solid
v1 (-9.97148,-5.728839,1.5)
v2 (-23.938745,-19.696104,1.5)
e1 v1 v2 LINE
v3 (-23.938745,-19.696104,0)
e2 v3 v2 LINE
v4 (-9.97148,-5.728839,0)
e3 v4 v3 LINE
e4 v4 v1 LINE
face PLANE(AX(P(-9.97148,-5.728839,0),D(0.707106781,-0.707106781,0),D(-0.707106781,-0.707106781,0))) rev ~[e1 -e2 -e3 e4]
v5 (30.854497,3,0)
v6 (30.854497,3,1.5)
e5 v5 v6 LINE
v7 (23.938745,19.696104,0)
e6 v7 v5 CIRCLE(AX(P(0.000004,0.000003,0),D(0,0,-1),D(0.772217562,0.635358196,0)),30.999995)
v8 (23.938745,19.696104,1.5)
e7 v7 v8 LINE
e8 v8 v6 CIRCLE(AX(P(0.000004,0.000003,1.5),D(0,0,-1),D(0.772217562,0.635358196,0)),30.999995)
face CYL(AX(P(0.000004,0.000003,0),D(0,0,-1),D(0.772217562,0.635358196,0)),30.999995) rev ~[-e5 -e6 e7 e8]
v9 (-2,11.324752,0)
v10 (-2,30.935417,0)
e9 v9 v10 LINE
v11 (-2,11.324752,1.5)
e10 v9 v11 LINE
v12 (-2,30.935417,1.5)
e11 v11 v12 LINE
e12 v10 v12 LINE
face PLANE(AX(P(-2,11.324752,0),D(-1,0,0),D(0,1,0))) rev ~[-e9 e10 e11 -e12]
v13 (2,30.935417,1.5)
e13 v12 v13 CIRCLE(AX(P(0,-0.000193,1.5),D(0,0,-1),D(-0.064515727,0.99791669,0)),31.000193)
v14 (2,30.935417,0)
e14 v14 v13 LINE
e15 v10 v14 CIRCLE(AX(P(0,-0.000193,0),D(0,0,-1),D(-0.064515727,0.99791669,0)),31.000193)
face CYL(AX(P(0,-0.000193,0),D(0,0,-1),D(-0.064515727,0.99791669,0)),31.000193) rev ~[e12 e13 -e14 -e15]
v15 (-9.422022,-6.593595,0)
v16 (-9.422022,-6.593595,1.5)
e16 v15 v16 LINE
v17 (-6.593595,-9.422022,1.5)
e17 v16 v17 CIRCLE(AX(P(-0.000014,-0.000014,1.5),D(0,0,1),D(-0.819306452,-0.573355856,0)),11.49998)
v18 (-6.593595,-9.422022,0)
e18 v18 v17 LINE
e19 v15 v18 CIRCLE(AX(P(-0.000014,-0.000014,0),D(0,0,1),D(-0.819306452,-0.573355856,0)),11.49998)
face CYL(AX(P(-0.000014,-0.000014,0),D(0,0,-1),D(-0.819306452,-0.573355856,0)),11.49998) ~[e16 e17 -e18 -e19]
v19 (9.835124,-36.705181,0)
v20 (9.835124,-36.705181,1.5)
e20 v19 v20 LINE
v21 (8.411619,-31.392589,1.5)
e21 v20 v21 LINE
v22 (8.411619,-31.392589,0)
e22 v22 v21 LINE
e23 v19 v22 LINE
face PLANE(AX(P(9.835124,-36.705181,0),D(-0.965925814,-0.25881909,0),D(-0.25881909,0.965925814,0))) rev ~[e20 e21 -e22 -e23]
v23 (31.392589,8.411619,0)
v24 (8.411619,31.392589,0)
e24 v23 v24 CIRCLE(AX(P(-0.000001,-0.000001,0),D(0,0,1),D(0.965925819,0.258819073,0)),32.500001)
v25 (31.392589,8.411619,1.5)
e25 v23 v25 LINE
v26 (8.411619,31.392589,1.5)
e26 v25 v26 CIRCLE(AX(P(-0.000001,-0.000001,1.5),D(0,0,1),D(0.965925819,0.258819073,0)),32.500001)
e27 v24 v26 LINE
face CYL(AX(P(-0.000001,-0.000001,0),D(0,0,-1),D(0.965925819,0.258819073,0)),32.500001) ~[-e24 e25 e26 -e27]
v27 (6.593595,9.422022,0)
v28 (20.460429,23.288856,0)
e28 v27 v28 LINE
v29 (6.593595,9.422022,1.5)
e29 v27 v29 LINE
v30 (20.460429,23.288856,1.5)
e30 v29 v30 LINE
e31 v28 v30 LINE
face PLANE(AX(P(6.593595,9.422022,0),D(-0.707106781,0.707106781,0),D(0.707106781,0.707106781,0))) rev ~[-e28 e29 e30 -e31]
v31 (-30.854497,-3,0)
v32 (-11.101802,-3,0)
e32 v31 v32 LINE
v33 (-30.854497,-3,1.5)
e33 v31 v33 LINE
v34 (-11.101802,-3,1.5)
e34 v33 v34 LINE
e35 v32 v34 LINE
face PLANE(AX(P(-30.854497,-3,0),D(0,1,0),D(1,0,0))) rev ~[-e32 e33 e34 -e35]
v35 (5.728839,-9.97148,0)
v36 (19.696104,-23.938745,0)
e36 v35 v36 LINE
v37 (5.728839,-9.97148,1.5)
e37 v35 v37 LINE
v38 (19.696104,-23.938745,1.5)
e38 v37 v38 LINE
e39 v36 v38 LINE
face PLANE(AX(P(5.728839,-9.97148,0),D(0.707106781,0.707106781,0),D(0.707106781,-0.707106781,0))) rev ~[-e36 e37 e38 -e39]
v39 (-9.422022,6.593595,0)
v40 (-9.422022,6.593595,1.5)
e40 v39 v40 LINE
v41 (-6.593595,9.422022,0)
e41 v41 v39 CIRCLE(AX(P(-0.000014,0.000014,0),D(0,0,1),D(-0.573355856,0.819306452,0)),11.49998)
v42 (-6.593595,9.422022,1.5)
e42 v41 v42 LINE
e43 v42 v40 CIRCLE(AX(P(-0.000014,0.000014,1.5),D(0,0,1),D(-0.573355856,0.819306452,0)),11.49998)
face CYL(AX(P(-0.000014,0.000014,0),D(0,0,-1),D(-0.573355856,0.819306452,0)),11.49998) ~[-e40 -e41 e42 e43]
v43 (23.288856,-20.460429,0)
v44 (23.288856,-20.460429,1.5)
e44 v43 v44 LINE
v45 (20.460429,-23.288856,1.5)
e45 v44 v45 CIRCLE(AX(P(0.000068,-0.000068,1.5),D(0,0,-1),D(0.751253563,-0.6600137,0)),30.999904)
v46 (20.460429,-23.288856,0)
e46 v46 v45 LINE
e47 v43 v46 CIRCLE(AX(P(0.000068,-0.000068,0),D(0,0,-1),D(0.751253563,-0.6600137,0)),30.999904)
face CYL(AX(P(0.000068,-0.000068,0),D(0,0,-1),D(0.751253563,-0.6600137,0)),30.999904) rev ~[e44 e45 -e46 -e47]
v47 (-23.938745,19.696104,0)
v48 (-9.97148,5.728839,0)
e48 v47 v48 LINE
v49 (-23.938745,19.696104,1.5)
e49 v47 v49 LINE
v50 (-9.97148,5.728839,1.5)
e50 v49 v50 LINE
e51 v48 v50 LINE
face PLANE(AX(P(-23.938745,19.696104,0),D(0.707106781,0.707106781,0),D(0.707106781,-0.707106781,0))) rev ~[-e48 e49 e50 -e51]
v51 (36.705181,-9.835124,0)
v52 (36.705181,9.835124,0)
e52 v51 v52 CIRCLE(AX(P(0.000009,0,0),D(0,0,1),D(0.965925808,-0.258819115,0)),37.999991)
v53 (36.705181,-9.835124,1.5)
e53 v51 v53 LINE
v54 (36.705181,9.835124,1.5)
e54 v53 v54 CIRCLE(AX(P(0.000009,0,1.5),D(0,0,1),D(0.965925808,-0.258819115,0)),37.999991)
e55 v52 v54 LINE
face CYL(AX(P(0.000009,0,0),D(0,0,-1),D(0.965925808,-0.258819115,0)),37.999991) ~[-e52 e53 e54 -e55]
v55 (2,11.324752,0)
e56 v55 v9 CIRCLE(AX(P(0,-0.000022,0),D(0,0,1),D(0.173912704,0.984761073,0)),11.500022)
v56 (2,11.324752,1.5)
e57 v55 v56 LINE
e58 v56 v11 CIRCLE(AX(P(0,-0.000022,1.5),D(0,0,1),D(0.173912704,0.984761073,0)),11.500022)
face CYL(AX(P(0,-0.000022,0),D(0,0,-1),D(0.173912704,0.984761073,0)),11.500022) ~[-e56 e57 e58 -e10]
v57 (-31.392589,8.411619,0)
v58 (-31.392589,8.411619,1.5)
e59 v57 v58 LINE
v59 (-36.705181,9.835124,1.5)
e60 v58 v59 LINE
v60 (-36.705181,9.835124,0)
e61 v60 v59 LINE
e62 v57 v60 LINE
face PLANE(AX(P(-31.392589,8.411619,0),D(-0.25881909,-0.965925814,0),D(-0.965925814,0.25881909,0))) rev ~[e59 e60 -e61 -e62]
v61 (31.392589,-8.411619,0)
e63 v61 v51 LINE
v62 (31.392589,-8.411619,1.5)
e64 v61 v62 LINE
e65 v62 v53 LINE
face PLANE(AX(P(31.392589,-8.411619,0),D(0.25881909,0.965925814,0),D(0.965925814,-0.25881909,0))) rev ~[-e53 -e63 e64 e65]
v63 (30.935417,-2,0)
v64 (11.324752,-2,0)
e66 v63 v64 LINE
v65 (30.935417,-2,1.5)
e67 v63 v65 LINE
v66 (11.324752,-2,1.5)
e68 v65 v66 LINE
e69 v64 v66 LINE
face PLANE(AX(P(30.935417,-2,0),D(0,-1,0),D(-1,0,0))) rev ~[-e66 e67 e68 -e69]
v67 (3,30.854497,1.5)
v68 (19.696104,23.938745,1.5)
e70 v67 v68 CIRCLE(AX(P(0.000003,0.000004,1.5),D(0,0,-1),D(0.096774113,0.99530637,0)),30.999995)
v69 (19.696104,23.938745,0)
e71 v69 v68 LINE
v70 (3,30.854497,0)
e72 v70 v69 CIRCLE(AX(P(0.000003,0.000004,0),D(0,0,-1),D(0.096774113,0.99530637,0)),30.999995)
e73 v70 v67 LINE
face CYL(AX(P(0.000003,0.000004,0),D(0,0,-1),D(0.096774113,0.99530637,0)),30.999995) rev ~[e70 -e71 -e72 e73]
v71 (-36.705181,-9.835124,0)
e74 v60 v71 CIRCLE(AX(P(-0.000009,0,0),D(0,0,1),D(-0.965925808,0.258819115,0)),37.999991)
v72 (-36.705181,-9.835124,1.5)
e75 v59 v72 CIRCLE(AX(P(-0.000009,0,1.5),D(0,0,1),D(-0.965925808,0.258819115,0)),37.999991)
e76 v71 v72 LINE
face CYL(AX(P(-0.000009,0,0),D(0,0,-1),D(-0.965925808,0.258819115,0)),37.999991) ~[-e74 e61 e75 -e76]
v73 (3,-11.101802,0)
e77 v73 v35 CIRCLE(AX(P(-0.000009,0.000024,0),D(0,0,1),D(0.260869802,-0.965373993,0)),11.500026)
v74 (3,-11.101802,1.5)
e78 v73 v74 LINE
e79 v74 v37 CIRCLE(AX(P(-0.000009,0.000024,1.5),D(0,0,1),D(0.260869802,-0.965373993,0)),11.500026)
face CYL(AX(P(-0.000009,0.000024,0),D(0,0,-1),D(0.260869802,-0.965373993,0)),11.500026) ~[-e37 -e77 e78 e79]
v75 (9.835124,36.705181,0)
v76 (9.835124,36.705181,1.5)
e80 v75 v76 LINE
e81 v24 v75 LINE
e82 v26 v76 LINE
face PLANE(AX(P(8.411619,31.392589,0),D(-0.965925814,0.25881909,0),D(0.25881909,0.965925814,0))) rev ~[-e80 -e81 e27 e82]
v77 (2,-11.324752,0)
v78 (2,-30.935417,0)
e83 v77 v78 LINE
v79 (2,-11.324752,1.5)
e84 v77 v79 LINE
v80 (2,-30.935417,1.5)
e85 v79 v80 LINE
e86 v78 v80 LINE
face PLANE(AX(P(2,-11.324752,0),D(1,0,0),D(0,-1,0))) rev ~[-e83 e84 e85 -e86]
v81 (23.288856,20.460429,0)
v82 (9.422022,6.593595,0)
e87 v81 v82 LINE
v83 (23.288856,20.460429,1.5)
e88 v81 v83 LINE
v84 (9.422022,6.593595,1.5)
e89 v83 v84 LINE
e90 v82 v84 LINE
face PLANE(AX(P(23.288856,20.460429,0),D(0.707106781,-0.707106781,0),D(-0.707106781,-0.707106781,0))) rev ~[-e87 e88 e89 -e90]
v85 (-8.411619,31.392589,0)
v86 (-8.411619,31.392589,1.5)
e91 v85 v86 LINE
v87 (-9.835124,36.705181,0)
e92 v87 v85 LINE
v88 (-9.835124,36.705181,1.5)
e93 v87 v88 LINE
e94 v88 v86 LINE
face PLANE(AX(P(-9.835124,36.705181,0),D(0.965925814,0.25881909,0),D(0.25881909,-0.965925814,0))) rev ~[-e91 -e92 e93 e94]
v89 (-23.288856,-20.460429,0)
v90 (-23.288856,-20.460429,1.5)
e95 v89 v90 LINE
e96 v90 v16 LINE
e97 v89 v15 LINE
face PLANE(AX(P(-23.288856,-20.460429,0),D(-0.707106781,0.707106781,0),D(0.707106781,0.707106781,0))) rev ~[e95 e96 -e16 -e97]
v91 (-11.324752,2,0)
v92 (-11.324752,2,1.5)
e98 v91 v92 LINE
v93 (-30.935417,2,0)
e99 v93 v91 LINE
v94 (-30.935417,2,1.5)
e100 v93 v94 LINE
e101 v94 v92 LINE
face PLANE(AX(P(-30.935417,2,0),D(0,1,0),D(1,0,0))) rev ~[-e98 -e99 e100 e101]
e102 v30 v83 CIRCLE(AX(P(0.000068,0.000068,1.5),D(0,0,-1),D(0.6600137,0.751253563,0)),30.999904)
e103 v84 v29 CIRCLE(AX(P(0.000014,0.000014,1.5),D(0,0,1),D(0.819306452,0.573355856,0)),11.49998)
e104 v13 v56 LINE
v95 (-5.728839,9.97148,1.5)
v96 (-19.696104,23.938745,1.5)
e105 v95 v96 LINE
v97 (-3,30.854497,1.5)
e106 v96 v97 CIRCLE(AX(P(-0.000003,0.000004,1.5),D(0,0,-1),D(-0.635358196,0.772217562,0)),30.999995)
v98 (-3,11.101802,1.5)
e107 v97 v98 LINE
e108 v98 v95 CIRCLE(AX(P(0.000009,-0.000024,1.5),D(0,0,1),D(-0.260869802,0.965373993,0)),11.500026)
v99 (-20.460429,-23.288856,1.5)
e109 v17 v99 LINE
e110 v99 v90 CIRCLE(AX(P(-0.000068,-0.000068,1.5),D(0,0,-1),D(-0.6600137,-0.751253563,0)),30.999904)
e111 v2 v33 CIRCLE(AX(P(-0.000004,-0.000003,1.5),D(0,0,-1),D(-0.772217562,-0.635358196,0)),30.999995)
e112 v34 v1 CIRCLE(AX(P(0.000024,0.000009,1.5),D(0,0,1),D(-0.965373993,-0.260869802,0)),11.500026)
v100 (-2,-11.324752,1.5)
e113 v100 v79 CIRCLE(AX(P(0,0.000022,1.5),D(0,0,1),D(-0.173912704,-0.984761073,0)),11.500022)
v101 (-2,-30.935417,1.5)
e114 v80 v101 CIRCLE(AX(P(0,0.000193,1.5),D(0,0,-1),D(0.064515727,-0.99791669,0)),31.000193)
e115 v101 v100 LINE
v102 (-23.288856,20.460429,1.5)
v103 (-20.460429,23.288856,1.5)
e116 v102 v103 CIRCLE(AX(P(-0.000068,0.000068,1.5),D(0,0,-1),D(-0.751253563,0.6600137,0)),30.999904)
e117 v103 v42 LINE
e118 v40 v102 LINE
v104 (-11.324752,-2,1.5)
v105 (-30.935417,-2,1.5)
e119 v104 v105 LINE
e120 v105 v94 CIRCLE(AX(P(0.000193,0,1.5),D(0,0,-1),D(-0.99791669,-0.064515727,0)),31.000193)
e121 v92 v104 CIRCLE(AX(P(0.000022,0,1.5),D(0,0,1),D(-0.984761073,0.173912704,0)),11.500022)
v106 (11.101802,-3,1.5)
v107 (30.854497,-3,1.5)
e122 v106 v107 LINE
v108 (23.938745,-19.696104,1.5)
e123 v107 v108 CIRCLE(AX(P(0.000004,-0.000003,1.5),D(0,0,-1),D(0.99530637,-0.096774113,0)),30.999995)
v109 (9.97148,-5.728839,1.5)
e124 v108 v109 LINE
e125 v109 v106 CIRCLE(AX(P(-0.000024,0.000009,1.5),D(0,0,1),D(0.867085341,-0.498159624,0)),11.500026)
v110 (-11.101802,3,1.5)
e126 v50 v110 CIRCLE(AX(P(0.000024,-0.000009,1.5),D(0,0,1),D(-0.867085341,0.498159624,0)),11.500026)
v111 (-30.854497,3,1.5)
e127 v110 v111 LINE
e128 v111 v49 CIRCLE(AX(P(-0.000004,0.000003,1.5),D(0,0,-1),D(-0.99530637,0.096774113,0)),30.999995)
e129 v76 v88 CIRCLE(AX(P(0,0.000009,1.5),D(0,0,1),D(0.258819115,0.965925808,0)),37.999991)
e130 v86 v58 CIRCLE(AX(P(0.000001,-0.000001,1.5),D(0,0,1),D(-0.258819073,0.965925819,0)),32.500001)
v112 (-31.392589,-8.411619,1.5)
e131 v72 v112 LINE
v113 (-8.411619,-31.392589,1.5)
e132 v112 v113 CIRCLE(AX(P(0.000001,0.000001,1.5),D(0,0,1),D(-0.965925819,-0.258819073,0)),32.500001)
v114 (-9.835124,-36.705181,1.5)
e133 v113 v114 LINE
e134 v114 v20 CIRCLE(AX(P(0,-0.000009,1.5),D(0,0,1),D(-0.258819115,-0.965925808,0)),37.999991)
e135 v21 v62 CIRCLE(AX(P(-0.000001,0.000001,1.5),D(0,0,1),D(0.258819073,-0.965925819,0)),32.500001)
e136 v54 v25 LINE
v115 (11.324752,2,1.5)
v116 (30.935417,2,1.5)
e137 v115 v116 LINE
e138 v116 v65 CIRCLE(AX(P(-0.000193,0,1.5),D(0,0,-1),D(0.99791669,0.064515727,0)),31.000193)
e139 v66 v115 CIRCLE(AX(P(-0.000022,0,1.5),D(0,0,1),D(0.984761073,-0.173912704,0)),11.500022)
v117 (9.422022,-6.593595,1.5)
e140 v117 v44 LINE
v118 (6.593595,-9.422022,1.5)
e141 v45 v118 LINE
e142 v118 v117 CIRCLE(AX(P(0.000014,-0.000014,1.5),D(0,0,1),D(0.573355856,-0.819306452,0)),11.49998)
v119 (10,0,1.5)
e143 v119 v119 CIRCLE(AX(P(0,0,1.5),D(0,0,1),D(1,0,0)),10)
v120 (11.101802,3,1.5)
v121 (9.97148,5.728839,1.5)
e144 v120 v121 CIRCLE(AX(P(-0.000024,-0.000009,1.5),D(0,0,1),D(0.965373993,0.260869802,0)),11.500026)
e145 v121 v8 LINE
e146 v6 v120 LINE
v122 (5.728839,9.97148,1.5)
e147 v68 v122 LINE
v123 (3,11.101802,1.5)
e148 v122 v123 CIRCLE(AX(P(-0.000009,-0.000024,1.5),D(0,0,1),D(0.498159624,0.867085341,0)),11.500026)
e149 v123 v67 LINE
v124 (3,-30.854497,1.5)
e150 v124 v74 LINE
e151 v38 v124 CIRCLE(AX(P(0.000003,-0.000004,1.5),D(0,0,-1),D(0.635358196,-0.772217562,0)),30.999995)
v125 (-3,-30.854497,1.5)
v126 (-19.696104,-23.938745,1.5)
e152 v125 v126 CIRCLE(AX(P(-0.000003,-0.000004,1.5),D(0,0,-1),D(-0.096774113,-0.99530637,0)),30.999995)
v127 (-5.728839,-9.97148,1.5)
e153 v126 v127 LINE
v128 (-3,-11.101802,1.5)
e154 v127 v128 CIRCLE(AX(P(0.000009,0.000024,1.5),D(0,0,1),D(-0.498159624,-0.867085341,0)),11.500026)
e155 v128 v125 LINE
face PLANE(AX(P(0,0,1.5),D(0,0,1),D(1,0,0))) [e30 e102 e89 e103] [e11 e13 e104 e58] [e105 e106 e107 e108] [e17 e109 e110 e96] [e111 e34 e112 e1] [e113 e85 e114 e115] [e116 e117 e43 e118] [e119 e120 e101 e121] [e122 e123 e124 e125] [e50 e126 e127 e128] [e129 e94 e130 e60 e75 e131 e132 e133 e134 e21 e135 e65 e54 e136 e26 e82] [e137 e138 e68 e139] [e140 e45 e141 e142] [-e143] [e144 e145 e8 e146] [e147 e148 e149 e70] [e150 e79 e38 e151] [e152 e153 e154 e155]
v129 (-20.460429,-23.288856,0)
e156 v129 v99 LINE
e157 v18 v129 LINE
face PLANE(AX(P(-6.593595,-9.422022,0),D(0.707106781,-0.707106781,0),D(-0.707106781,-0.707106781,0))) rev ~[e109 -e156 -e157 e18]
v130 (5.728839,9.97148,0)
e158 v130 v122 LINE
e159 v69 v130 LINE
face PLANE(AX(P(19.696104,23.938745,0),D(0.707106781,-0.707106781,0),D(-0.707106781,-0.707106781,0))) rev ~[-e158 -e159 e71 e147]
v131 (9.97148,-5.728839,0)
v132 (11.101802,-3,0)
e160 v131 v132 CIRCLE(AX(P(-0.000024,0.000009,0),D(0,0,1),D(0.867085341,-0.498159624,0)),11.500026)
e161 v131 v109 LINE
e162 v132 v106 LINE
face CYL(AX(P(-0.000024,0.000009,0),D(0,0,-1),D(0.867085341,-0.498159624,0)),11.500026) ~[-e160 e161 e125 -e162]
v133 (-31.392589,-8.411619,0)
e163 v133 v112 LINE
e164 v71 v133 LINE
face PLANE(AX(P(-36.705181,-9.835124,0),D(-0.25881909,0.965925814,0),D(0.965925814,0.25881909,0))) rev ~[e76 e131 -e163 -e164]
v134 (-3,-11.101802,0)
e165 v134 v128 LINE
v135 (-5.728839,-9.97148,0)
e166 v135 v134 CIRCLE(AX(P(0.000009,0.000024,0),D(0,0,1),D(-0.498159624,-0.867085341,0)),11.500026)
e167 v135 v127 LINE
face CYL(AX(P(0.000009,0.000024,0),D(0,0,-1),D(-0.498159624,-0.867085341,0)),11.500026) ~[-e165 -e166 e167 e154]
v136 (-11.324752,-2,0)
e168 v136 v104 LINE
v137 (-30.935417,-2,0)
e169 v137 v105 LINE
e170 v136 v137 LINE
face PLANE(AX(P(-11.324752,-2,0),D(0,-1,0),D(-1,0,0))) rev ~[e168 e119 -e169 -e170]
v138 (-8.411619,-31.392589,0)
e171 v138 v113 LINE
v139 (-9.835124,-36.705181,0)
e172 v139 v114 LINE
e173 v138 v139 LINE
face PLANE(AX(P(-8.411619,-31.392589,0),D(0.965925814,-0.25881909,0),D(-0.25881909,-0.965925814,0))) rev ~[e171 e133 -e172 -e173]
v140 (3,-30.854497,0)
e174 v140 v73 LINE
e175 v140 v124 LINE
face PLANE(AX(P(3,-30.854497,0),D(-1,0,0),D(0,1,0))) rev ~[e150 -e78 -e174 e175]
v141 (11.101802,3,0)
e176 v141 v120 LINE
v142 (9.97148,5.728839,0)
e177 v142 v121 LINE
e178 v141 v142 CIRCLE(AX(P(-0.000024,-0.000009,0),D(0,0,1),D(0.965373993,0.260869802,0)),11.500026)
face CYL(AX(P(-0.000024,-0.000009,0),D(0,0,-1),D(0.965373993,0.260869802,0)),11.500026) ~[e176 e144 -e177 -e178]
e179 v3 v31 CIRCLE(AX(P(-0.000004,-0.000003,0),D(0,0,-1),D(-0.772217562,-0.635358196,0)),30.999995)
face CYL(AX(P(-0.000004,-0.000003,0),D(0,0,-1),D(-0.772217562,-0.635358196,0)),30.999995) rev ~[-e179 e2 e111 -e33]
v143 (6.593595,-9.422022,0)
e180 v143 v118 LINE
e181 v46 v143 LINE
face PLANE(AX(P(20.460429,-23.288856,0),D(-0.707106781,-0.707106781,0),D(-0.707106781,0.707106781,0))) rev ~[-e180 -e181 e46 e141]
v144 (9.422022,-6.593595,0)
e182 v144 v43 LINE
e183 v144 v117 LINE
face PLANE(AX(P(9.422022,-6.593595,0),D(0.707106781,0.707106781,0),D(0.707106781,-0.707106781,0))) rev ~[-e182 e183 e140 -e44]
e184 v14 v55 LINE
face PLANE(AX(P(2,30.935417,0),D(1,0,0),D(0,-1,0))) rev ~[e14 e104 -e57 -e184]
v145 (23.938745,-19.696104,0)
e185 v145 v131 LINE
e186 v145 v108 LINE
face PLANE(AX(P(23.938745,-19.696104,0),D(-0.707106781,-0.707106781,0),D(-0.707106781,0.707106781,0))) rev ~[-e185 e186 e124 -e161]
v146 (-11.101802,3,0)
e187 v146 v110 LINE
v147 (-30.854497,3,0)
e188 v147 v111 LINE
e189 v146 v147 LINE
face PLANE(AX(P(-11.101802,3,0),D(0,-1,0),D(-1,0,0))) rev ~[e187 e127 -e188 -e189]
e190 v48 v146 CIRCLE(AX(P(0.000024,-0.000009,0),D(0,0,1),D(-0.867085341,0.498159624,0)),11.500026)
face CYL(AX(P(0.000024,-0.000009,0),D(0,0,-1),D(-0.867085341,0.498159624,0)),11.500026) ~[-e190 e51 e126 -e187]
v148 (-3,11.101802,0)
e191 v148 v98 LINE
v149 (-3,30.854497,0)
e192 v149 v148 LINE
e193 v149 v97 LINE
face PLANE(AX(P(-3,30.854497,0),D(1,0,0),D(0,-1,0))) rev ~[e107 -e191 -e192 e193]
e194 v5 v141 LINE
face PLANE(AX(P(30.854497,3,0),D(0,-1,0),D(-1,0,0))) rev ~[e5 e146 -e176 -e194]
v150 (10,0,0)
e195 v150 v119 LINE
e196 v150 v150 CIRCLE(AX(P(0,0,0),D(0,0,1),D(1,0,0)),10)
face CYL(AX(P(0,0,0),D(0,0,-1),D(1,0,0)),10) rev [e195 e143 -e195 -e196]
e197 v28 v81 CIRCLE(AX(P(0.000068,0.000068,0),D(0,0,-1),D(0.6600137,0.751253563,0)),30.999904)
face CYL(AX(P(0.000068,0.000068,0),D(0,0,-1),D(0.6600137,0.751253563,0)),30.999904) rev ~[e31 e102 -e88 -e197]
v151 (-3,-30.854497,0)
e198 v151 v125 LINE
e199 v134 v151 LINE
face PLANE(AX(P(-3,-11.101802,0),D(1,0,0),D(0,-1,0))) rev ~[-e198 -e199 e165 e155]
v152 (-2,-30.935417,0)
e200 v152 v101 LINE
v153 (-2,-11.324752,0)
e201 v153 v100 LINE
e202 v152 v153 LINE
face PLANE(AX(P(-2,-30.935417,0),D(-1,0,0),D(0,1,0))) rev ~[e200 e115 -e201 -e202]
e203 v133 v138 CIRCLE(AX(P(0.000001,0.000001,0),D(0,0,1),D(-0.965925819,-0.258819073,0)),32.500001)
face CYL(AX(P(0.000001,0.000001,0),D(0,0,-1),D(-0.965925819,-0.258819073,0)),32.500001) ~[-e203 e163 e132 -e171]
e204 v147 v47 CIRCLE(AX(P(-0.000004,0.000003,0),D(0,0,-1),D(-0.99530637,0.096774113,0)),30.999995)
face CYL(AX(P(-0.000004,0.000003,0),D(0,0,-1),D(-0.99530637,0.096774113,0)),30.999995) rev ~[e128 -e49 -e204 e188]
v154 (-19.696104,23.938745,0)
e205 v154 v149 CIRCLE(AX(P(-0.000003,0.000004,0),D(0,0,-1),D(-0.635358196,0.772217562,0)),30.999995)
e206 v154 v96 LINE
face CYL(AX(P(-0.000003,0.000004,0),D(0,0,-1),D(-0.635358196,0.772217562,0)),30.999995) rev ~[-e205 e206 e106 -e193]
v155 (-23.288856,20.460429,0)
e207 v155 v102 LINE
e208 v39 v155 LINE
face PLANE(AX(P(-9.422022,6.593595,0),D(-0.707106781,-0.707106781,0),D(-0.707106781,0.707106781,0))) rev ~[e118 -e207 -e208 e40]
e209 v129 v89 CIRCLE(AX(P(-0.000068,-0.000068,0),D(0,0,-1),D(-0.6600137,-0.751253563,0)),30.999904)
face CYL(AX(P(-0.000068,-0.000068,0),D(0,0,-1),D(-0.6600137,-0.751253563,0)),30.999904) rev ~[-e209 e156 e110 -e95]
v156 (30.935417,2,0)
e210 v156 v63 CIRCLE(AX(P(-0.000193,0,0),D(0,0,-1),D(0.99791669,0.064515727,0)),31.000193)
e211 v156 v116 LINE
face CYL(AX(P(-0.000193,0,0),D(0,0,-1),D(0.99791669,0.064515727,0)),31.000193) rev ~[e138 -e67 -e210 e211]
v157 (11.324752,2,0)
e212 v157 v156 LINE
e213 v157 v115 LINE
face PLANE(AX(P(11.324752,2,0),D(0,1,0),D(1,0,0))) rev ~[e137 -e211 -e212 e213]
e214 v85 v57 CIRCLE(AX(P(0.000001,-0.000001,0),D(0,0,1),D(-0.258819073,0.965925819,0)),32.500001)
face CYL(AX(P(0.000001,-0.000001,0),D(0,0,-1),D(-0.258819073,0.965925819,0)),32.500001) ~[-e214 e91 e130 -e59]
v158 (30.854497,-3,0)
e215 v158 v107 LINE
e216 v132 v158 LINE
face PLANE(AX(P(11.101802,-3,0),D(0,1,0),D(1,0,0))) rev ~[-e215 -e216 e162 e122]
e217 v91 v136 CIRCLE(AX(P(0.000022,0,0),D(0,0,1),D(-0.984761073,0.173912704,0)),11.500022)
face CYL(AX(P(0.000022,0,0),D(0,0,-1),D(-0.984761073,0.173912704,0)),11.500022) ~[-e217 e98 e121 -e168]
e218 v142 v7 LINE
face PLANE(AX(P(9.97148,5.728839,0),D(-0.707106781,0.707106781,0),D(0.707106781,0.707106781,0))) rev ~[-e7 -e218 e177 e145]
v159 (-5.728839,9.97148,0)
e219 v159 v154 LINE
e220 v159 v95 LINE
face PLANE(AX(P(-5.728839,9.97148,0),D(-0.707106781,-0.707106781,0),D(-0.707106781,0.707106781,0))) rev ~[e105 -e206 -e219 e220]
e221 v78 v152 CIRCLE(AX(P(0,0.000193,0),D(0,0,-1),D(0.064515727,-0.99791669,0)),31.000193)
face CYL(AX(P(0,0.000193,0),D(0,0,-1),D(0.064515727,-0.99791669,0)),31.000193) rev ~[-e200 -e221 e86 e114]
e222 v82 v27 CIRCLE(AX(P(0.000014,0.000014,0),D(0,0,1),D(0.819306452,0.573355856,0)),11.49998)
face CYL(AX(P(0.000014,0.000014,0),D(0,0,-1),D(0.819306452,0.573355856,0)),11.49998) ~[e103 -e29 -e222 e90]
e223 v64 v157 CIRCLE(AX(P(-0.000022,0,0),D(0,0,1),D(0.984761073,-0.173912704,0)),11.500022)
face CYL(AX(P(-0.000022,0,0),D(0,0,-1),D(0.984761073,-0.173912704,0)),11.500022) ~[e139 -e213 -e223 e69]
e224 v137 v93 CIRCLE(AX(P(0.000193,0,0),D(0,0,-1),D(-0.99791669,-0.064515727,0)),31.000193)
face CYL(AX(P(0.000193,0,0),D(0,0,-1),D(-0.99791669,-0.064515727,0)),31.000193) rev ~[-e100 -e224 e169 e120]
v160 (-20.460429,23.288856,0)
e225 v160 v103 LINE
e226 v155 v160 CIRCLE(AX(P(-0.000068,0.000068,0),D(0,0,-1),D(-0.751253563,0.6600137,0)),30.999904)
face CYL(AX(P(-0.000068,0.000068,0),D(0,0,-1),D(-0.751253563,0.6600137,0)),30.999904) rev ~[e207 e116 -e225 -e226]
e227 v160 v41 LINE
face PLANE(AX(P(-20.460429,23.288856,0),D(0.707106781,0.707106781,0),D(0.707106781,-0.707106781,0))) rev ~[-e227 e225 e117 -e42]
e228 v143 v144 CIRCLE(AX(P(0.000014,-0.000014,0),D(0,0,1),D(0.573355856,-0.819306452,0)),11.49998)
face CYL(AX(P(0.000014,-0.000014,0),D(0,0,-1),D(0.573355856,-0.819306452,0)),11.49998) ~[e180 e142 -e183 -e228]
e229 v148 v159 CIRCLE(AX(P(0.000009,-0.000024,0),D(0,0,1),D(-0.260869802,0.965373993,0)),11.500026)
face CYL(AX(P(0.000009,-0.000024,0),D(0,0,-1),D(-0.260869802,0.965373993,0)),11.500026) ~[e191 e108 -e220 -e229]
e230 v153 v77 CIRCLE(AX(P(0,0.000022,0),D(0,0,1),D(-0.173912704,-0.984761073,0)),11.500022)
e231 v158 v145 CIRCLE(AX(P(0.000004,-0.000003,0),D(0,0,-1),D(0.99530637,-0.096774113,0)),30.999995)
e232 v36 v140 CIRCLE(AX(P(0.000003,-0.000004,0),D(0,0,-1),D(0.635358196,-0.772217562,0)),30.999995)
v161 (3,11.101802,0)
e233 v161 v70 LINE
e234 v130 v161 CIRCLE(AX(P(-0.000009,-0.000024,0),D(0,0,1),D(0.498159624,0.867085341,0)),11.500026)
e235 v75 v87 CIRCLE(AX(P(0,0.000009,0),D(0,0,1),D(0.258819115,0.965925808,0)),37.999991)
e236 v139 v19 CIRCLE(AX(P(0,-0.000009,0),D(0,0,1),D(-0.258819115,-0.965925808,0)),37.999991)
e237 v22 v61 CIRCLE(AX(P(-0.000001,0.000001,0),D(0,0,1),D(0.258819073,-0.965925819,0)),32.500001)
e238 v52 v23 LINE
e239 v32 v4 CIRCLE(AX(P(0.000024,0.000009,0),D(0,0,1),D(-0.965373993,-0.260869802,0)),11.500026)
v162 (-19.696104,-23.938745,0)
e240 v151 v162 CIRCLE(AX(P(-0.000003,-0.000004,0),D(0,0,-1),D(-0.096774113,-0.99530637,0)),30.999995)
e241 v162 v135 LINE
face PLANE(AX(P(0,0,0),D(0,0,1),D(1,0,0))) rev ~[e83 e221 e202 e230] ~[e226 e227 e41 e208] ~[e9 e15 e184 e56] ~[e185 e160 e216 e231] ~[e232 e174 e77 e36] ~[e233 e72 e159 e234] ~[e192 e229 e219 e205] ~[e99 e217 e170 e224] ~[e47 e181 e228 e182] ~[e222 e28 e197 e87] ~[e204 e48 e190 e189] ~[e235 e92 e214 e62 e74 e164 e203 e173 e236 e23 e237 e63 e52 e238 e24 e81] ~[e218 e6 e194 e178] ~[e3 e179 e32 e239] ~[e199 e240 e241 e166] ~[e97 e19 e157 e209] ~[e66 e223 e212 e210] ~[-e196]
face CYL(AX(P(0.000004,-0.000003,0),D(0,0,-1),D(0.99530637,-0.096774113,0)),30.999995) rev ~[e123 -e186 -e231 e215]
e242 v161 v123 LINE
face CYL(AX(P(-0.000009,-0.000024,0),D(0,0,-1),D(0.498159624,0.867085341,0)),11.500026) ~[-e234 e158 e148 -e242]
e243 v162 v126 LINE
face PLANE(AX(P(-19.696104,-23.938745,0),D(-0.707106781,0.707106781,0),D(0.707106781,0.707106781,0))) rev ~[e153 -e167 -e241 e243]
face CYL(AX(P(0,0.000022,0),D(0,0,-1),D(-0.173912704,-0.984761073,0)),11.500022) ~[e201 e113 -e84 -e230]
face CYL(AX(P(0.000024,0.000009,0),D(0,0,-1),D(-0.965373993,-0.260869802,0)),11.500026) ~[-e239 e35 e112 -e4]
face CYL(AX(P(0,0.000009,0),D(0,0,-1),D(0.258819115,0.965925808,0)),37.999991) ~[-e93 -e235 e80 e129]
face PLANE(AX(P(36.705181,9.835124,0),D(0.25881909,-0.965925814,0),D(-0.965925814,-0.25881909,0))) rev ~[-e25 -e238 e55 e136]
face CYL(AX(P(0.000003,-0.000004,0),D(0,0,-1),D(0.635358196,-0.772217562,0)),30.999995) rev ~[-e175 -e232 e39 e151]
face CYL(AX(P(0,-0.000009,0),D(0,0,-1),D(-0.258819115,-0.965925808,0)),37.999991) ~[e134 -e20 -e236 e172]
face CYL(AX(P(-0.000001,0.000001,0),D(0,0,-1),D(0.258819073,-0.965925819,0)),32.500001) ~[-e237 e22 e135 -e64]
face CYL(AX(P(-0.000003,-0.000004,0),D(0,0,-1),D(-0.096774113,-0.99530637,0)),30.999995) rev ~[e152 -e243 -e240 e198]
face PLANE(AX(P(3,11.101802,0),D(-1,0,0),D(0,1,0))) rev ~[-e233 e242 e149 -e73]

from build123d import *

# Parameters (mm, degrees)
F0_R     = 10
F1_DEPTH = 1.5


with BuildPart() as f1:
    # F0 (on Top) → F1 (new body)
    with BuildSketch(Plane.XY):
        with BuildLine():
            Line((-31.392589, 8.411619), (-36.705181, 9.835124))
            ThreePointArc((-36.705181, 9.835124), (-38, 0), (-36.705181, -9.835124))
            Line((-36.705181, -9.835124), (-31.392589, -8.411619))
            ThreePointArc((-31.392589, -8.411619), (-22.98097, -22.98097), (-8.411619, -31.392589))
            Line((-8.411619, -31.392589), (-9.835124, -36.705181))
            ThreePointArc((-9.835124, -36.705181), (0, -38), (9.835124, -36.705181))
            Line((9.835124, -36.705181), (8.411619, -31.392589))
            ThreePointArc((8.411619, -31.392589), (22.98097, -22.98097), (31.392589, -8.411619))
            Line((31.392589, -8.411619), (36.705181, -9.835124))
            ThreePointArc((36.705181, -9.835124), (38, 0), (36.705181, 9.835124))
            Line((36.705181, 9.835124), (31.392589, 8.411619))
            ThreePointArc((31.392589, 8.411619), (22.98097, 22.98097), (8.411619, 31.392589))
            Line((8.411619, 31.392589), (9.835124, 36.705181))
            ThreePointArc((9.835124, 36.705181), (0, 38), (-9.835124, 36.705181))
            Line((-9.835124, 36.705181), (-8.411619, 31.392589))
            ThreePointArc((-8.411619, 31.392589), (-22.98097, 22.98097), (-31.392589, 8.411619))
        make_face()
        with BuildLine():
            Line((-3, -11.101802), (-3, -30.854497))
            ThreePointArc((-3, -30.854497), (-11.863186, -28.640266), (-19.696104, -23.938745))
            Line((-19.696104, -23.938745), (-5.728839, -9.97148))
            ThreePointArc((-5.728839, -9.97148), (-4.400859, -10.624615), (-3, -11.101802))
        make_face(mode=Mode.SUBTRACT)
        with BuildLine():
            ThreePointArc((-23.938745, -19.696104), (-28.640266, -11.863186), (-30.854497, -3))
            Line((-30.854497, -3), (-11.101802, -3))
            ThreePointArc((-11.101802, -3), (-10.624615, -4.400859), (-9.97148, -5.728839))
            Line((-9.97148, -5.728839), (-23.938745, -19.696104))
        make_face(mode=Mode.SUBTRACT)
        with BuildLine():
            ThreePointArc((-20.460429, -23.288856), (-21.92031, -21.92031), (-23.288856, -20.460429))
            Line((-23.288856, -20.460429), (-9.422022, -6.593595))
            ThreePointArc((-9.422022, -6.593595), (-8.131728, -8.131728), (-6.593595, -9.422022))
            Line((-6.593595, -9.422022), (-20.460429, -23.288856))
        make_face(mode=Mode.SUBTRACT)
        with BuildLine():
            ThreePointArc((2, -30.935417), (0, -31), (-2, -30.935417))
            Line((-2, -30.935417), (-2, -11.324752))
            ThreePointArc((-2, -11.324752), (0, -11.5), (2, -11.324752))
            Line((2, -11.324752), (2, -30.935417))
        make_face(mode=Mode.SUBTRACT)
        with BuildLine():
            ThreePointArc((19.696104, -23.938745), (11.863186, -28.640266), (3, -30.854497))
            Line((3, -30.854497), (3, -11.101802))
            ThreePointArc((3, -11.101802), (4.400859, -10.624615), (5.728839, -9.97148))
            Line((5.728839, -9.97148), (19.696104, -23.938745))
        make_face(mode=Mode.SUBTRACT)
        with BuildLine():
            ThreePointArc((23.288856, -20.460429), (21.92031, -21.92031), (20.460429, -23.288856))
            Line((20.460429, -23.288856), (6.593595, -9.422022))
            ThreePointArc((6.593595, -9.422022), (8.131728, -8.131728), (9.422022, -6.593595))
            Line((9.422022, -6.593595), (23.288856, -20.460429))
        make_face(mode=Mode.SUBTRACT)
        with BuildLine():
            Line((11.101802, -3), (30.854497, -3))
            ThreePointArc((30.854497, -3), (28.640266, -11.863186), (23.938745, -19.696104))
            Line((23.938745, -19.696104), (9.97148, -5.728839))
            ThreePointArc((9.97148, -5.728839), (10.624615, -4.400859), (11.101802, -3))
        make_face(mode=Mode.SUBTRACT)
        with BuildLine():
            ThreePointArc((-30.935417, -2), (-31, 0), (-30.935417, 2))
            Line((-30.935417, 2), (-11.324752, 2))
            ThreePointArc((-11.324752, 2), (-11.5, 0), (-11.324752, -2))
            Line((-11.324752, -2), (-30.935417, -2))
        make_face(mode=Mode.SUBTRACT)
        with BuildLine():
            Line((-11.101802, 3), (-30.854497, 3))
            ThreePointArc((-30.854497, 3), (-28.640266, 11.863186), (-23.938745, 19.696104))
            Line((-23.938745, 19.696104), (-9.97148, 5.728839))
            ThreePointArc((-9.97148, 5.728839), (-10.624615, 4.400859), (-11.101802, 3))
        make_face(mode=Mode.SUBTRACT)
        with BuildLine():
            ThreePointArc((-23.288856, 20.460429), (-21.92031, 21.92031), (-20.460429, 23.288856))
            Line((-20.460429, 23.288856), (-6.593595, 9.422022))
            ThreePointArc((-6.593595, 9.422022), (-8.131728, 8.131728), (-9.422022, 6.593595))
            Line((-9.422022, 6.593595), (-23.288856, 20.460429))
        make_face(mode=Mode.SUBTRACT)
        with BuildLine():
            ThreePointArc((-19.696104, 23.938745), (-11.863186, 28.640266), (-3, 30.854497))
            Line((-3, 30.854497), (-3, 11.101802))
            ThreePointArc((-3, 11.101802), (-4.400859, 10.624615), (-5.728839, 9.97148))
            Line((-5.728839, 9.97148), (-19.696104, 23.938745))
        make_face(mode=Mode.SUBTRACT)
        Circle(F0_R, mode=Mode.SUBTRACT)
        with BuildLine():
            ThreePointArc((20.460429, 23.288856), (21.92031, 21.92031), (23.288856, 20.460429))
            Line((23.288856, 20.460429), (9.422022, 6.593595))
            ThreePointArc((9.422022, 6.593595), (8.131728, 8.131728), (6.593595, 9.422022))
            Line((6.593595, 9.422022), (20.460429, 23.288856))
        make_face(mode=Mode.SUBTRACT)
        with BuildLine():
            ThreePointArc((30.935417, 2), (31, 0), (30.935417, -2))
            Line((30.935417, -2), (11.324752, -2))
            ThreePointArc((11.324752, -2), (11.5, 0), (11.324752, 2))
            Line((11.324752, 2), (30.935417, 2))
        make_face(mode=Mode.SUBTRACT)
        with BuildLine():
            ThreePointArc((23.938745, 19.696104), (28.640266, 11.863186), (30.854497, 3))
            Line((30.854497, 3), (11.101802, 3))
            ThreePointArc((11.101802, 3), (10.624615, 4.400859), (9.97148, 5.728839))
            Line((9.97148, 5.728839), (23.938745, 19.696104))
        make_face(mode=Mode.SUBTRACT)
        with BuildLine():
            Line((2, 30.935417), (2, 11.324752))
            ThreePointArc((2, 11.324752), (0, 11.5), (-2, 11.324752))
            Line((-2, 11.324752), (-2, 30.935417))
            ThreePointArc((-2, 30.935417), (0, 31), (2, 30.935417))
        make_face(mode=Mode.SUBTRACT)
        with BuildLine():
            Line((3, 11.101802), (3, 30.854497))
            ThreePointArc((3, 30.854497), (11.863186, 28.640266), (19.696104, 23.938745))
            Line((19.696104, 23.938745), (5.728839, 9.97148))
            ThreePointArc((5.728839, 9.97148), (4.400859, 10.624615), (3, 11.101802))
        make_face(mode=Mode.SUBTRACT)
    extrude(amount=F1_DEPTH)


solid = f1.part
